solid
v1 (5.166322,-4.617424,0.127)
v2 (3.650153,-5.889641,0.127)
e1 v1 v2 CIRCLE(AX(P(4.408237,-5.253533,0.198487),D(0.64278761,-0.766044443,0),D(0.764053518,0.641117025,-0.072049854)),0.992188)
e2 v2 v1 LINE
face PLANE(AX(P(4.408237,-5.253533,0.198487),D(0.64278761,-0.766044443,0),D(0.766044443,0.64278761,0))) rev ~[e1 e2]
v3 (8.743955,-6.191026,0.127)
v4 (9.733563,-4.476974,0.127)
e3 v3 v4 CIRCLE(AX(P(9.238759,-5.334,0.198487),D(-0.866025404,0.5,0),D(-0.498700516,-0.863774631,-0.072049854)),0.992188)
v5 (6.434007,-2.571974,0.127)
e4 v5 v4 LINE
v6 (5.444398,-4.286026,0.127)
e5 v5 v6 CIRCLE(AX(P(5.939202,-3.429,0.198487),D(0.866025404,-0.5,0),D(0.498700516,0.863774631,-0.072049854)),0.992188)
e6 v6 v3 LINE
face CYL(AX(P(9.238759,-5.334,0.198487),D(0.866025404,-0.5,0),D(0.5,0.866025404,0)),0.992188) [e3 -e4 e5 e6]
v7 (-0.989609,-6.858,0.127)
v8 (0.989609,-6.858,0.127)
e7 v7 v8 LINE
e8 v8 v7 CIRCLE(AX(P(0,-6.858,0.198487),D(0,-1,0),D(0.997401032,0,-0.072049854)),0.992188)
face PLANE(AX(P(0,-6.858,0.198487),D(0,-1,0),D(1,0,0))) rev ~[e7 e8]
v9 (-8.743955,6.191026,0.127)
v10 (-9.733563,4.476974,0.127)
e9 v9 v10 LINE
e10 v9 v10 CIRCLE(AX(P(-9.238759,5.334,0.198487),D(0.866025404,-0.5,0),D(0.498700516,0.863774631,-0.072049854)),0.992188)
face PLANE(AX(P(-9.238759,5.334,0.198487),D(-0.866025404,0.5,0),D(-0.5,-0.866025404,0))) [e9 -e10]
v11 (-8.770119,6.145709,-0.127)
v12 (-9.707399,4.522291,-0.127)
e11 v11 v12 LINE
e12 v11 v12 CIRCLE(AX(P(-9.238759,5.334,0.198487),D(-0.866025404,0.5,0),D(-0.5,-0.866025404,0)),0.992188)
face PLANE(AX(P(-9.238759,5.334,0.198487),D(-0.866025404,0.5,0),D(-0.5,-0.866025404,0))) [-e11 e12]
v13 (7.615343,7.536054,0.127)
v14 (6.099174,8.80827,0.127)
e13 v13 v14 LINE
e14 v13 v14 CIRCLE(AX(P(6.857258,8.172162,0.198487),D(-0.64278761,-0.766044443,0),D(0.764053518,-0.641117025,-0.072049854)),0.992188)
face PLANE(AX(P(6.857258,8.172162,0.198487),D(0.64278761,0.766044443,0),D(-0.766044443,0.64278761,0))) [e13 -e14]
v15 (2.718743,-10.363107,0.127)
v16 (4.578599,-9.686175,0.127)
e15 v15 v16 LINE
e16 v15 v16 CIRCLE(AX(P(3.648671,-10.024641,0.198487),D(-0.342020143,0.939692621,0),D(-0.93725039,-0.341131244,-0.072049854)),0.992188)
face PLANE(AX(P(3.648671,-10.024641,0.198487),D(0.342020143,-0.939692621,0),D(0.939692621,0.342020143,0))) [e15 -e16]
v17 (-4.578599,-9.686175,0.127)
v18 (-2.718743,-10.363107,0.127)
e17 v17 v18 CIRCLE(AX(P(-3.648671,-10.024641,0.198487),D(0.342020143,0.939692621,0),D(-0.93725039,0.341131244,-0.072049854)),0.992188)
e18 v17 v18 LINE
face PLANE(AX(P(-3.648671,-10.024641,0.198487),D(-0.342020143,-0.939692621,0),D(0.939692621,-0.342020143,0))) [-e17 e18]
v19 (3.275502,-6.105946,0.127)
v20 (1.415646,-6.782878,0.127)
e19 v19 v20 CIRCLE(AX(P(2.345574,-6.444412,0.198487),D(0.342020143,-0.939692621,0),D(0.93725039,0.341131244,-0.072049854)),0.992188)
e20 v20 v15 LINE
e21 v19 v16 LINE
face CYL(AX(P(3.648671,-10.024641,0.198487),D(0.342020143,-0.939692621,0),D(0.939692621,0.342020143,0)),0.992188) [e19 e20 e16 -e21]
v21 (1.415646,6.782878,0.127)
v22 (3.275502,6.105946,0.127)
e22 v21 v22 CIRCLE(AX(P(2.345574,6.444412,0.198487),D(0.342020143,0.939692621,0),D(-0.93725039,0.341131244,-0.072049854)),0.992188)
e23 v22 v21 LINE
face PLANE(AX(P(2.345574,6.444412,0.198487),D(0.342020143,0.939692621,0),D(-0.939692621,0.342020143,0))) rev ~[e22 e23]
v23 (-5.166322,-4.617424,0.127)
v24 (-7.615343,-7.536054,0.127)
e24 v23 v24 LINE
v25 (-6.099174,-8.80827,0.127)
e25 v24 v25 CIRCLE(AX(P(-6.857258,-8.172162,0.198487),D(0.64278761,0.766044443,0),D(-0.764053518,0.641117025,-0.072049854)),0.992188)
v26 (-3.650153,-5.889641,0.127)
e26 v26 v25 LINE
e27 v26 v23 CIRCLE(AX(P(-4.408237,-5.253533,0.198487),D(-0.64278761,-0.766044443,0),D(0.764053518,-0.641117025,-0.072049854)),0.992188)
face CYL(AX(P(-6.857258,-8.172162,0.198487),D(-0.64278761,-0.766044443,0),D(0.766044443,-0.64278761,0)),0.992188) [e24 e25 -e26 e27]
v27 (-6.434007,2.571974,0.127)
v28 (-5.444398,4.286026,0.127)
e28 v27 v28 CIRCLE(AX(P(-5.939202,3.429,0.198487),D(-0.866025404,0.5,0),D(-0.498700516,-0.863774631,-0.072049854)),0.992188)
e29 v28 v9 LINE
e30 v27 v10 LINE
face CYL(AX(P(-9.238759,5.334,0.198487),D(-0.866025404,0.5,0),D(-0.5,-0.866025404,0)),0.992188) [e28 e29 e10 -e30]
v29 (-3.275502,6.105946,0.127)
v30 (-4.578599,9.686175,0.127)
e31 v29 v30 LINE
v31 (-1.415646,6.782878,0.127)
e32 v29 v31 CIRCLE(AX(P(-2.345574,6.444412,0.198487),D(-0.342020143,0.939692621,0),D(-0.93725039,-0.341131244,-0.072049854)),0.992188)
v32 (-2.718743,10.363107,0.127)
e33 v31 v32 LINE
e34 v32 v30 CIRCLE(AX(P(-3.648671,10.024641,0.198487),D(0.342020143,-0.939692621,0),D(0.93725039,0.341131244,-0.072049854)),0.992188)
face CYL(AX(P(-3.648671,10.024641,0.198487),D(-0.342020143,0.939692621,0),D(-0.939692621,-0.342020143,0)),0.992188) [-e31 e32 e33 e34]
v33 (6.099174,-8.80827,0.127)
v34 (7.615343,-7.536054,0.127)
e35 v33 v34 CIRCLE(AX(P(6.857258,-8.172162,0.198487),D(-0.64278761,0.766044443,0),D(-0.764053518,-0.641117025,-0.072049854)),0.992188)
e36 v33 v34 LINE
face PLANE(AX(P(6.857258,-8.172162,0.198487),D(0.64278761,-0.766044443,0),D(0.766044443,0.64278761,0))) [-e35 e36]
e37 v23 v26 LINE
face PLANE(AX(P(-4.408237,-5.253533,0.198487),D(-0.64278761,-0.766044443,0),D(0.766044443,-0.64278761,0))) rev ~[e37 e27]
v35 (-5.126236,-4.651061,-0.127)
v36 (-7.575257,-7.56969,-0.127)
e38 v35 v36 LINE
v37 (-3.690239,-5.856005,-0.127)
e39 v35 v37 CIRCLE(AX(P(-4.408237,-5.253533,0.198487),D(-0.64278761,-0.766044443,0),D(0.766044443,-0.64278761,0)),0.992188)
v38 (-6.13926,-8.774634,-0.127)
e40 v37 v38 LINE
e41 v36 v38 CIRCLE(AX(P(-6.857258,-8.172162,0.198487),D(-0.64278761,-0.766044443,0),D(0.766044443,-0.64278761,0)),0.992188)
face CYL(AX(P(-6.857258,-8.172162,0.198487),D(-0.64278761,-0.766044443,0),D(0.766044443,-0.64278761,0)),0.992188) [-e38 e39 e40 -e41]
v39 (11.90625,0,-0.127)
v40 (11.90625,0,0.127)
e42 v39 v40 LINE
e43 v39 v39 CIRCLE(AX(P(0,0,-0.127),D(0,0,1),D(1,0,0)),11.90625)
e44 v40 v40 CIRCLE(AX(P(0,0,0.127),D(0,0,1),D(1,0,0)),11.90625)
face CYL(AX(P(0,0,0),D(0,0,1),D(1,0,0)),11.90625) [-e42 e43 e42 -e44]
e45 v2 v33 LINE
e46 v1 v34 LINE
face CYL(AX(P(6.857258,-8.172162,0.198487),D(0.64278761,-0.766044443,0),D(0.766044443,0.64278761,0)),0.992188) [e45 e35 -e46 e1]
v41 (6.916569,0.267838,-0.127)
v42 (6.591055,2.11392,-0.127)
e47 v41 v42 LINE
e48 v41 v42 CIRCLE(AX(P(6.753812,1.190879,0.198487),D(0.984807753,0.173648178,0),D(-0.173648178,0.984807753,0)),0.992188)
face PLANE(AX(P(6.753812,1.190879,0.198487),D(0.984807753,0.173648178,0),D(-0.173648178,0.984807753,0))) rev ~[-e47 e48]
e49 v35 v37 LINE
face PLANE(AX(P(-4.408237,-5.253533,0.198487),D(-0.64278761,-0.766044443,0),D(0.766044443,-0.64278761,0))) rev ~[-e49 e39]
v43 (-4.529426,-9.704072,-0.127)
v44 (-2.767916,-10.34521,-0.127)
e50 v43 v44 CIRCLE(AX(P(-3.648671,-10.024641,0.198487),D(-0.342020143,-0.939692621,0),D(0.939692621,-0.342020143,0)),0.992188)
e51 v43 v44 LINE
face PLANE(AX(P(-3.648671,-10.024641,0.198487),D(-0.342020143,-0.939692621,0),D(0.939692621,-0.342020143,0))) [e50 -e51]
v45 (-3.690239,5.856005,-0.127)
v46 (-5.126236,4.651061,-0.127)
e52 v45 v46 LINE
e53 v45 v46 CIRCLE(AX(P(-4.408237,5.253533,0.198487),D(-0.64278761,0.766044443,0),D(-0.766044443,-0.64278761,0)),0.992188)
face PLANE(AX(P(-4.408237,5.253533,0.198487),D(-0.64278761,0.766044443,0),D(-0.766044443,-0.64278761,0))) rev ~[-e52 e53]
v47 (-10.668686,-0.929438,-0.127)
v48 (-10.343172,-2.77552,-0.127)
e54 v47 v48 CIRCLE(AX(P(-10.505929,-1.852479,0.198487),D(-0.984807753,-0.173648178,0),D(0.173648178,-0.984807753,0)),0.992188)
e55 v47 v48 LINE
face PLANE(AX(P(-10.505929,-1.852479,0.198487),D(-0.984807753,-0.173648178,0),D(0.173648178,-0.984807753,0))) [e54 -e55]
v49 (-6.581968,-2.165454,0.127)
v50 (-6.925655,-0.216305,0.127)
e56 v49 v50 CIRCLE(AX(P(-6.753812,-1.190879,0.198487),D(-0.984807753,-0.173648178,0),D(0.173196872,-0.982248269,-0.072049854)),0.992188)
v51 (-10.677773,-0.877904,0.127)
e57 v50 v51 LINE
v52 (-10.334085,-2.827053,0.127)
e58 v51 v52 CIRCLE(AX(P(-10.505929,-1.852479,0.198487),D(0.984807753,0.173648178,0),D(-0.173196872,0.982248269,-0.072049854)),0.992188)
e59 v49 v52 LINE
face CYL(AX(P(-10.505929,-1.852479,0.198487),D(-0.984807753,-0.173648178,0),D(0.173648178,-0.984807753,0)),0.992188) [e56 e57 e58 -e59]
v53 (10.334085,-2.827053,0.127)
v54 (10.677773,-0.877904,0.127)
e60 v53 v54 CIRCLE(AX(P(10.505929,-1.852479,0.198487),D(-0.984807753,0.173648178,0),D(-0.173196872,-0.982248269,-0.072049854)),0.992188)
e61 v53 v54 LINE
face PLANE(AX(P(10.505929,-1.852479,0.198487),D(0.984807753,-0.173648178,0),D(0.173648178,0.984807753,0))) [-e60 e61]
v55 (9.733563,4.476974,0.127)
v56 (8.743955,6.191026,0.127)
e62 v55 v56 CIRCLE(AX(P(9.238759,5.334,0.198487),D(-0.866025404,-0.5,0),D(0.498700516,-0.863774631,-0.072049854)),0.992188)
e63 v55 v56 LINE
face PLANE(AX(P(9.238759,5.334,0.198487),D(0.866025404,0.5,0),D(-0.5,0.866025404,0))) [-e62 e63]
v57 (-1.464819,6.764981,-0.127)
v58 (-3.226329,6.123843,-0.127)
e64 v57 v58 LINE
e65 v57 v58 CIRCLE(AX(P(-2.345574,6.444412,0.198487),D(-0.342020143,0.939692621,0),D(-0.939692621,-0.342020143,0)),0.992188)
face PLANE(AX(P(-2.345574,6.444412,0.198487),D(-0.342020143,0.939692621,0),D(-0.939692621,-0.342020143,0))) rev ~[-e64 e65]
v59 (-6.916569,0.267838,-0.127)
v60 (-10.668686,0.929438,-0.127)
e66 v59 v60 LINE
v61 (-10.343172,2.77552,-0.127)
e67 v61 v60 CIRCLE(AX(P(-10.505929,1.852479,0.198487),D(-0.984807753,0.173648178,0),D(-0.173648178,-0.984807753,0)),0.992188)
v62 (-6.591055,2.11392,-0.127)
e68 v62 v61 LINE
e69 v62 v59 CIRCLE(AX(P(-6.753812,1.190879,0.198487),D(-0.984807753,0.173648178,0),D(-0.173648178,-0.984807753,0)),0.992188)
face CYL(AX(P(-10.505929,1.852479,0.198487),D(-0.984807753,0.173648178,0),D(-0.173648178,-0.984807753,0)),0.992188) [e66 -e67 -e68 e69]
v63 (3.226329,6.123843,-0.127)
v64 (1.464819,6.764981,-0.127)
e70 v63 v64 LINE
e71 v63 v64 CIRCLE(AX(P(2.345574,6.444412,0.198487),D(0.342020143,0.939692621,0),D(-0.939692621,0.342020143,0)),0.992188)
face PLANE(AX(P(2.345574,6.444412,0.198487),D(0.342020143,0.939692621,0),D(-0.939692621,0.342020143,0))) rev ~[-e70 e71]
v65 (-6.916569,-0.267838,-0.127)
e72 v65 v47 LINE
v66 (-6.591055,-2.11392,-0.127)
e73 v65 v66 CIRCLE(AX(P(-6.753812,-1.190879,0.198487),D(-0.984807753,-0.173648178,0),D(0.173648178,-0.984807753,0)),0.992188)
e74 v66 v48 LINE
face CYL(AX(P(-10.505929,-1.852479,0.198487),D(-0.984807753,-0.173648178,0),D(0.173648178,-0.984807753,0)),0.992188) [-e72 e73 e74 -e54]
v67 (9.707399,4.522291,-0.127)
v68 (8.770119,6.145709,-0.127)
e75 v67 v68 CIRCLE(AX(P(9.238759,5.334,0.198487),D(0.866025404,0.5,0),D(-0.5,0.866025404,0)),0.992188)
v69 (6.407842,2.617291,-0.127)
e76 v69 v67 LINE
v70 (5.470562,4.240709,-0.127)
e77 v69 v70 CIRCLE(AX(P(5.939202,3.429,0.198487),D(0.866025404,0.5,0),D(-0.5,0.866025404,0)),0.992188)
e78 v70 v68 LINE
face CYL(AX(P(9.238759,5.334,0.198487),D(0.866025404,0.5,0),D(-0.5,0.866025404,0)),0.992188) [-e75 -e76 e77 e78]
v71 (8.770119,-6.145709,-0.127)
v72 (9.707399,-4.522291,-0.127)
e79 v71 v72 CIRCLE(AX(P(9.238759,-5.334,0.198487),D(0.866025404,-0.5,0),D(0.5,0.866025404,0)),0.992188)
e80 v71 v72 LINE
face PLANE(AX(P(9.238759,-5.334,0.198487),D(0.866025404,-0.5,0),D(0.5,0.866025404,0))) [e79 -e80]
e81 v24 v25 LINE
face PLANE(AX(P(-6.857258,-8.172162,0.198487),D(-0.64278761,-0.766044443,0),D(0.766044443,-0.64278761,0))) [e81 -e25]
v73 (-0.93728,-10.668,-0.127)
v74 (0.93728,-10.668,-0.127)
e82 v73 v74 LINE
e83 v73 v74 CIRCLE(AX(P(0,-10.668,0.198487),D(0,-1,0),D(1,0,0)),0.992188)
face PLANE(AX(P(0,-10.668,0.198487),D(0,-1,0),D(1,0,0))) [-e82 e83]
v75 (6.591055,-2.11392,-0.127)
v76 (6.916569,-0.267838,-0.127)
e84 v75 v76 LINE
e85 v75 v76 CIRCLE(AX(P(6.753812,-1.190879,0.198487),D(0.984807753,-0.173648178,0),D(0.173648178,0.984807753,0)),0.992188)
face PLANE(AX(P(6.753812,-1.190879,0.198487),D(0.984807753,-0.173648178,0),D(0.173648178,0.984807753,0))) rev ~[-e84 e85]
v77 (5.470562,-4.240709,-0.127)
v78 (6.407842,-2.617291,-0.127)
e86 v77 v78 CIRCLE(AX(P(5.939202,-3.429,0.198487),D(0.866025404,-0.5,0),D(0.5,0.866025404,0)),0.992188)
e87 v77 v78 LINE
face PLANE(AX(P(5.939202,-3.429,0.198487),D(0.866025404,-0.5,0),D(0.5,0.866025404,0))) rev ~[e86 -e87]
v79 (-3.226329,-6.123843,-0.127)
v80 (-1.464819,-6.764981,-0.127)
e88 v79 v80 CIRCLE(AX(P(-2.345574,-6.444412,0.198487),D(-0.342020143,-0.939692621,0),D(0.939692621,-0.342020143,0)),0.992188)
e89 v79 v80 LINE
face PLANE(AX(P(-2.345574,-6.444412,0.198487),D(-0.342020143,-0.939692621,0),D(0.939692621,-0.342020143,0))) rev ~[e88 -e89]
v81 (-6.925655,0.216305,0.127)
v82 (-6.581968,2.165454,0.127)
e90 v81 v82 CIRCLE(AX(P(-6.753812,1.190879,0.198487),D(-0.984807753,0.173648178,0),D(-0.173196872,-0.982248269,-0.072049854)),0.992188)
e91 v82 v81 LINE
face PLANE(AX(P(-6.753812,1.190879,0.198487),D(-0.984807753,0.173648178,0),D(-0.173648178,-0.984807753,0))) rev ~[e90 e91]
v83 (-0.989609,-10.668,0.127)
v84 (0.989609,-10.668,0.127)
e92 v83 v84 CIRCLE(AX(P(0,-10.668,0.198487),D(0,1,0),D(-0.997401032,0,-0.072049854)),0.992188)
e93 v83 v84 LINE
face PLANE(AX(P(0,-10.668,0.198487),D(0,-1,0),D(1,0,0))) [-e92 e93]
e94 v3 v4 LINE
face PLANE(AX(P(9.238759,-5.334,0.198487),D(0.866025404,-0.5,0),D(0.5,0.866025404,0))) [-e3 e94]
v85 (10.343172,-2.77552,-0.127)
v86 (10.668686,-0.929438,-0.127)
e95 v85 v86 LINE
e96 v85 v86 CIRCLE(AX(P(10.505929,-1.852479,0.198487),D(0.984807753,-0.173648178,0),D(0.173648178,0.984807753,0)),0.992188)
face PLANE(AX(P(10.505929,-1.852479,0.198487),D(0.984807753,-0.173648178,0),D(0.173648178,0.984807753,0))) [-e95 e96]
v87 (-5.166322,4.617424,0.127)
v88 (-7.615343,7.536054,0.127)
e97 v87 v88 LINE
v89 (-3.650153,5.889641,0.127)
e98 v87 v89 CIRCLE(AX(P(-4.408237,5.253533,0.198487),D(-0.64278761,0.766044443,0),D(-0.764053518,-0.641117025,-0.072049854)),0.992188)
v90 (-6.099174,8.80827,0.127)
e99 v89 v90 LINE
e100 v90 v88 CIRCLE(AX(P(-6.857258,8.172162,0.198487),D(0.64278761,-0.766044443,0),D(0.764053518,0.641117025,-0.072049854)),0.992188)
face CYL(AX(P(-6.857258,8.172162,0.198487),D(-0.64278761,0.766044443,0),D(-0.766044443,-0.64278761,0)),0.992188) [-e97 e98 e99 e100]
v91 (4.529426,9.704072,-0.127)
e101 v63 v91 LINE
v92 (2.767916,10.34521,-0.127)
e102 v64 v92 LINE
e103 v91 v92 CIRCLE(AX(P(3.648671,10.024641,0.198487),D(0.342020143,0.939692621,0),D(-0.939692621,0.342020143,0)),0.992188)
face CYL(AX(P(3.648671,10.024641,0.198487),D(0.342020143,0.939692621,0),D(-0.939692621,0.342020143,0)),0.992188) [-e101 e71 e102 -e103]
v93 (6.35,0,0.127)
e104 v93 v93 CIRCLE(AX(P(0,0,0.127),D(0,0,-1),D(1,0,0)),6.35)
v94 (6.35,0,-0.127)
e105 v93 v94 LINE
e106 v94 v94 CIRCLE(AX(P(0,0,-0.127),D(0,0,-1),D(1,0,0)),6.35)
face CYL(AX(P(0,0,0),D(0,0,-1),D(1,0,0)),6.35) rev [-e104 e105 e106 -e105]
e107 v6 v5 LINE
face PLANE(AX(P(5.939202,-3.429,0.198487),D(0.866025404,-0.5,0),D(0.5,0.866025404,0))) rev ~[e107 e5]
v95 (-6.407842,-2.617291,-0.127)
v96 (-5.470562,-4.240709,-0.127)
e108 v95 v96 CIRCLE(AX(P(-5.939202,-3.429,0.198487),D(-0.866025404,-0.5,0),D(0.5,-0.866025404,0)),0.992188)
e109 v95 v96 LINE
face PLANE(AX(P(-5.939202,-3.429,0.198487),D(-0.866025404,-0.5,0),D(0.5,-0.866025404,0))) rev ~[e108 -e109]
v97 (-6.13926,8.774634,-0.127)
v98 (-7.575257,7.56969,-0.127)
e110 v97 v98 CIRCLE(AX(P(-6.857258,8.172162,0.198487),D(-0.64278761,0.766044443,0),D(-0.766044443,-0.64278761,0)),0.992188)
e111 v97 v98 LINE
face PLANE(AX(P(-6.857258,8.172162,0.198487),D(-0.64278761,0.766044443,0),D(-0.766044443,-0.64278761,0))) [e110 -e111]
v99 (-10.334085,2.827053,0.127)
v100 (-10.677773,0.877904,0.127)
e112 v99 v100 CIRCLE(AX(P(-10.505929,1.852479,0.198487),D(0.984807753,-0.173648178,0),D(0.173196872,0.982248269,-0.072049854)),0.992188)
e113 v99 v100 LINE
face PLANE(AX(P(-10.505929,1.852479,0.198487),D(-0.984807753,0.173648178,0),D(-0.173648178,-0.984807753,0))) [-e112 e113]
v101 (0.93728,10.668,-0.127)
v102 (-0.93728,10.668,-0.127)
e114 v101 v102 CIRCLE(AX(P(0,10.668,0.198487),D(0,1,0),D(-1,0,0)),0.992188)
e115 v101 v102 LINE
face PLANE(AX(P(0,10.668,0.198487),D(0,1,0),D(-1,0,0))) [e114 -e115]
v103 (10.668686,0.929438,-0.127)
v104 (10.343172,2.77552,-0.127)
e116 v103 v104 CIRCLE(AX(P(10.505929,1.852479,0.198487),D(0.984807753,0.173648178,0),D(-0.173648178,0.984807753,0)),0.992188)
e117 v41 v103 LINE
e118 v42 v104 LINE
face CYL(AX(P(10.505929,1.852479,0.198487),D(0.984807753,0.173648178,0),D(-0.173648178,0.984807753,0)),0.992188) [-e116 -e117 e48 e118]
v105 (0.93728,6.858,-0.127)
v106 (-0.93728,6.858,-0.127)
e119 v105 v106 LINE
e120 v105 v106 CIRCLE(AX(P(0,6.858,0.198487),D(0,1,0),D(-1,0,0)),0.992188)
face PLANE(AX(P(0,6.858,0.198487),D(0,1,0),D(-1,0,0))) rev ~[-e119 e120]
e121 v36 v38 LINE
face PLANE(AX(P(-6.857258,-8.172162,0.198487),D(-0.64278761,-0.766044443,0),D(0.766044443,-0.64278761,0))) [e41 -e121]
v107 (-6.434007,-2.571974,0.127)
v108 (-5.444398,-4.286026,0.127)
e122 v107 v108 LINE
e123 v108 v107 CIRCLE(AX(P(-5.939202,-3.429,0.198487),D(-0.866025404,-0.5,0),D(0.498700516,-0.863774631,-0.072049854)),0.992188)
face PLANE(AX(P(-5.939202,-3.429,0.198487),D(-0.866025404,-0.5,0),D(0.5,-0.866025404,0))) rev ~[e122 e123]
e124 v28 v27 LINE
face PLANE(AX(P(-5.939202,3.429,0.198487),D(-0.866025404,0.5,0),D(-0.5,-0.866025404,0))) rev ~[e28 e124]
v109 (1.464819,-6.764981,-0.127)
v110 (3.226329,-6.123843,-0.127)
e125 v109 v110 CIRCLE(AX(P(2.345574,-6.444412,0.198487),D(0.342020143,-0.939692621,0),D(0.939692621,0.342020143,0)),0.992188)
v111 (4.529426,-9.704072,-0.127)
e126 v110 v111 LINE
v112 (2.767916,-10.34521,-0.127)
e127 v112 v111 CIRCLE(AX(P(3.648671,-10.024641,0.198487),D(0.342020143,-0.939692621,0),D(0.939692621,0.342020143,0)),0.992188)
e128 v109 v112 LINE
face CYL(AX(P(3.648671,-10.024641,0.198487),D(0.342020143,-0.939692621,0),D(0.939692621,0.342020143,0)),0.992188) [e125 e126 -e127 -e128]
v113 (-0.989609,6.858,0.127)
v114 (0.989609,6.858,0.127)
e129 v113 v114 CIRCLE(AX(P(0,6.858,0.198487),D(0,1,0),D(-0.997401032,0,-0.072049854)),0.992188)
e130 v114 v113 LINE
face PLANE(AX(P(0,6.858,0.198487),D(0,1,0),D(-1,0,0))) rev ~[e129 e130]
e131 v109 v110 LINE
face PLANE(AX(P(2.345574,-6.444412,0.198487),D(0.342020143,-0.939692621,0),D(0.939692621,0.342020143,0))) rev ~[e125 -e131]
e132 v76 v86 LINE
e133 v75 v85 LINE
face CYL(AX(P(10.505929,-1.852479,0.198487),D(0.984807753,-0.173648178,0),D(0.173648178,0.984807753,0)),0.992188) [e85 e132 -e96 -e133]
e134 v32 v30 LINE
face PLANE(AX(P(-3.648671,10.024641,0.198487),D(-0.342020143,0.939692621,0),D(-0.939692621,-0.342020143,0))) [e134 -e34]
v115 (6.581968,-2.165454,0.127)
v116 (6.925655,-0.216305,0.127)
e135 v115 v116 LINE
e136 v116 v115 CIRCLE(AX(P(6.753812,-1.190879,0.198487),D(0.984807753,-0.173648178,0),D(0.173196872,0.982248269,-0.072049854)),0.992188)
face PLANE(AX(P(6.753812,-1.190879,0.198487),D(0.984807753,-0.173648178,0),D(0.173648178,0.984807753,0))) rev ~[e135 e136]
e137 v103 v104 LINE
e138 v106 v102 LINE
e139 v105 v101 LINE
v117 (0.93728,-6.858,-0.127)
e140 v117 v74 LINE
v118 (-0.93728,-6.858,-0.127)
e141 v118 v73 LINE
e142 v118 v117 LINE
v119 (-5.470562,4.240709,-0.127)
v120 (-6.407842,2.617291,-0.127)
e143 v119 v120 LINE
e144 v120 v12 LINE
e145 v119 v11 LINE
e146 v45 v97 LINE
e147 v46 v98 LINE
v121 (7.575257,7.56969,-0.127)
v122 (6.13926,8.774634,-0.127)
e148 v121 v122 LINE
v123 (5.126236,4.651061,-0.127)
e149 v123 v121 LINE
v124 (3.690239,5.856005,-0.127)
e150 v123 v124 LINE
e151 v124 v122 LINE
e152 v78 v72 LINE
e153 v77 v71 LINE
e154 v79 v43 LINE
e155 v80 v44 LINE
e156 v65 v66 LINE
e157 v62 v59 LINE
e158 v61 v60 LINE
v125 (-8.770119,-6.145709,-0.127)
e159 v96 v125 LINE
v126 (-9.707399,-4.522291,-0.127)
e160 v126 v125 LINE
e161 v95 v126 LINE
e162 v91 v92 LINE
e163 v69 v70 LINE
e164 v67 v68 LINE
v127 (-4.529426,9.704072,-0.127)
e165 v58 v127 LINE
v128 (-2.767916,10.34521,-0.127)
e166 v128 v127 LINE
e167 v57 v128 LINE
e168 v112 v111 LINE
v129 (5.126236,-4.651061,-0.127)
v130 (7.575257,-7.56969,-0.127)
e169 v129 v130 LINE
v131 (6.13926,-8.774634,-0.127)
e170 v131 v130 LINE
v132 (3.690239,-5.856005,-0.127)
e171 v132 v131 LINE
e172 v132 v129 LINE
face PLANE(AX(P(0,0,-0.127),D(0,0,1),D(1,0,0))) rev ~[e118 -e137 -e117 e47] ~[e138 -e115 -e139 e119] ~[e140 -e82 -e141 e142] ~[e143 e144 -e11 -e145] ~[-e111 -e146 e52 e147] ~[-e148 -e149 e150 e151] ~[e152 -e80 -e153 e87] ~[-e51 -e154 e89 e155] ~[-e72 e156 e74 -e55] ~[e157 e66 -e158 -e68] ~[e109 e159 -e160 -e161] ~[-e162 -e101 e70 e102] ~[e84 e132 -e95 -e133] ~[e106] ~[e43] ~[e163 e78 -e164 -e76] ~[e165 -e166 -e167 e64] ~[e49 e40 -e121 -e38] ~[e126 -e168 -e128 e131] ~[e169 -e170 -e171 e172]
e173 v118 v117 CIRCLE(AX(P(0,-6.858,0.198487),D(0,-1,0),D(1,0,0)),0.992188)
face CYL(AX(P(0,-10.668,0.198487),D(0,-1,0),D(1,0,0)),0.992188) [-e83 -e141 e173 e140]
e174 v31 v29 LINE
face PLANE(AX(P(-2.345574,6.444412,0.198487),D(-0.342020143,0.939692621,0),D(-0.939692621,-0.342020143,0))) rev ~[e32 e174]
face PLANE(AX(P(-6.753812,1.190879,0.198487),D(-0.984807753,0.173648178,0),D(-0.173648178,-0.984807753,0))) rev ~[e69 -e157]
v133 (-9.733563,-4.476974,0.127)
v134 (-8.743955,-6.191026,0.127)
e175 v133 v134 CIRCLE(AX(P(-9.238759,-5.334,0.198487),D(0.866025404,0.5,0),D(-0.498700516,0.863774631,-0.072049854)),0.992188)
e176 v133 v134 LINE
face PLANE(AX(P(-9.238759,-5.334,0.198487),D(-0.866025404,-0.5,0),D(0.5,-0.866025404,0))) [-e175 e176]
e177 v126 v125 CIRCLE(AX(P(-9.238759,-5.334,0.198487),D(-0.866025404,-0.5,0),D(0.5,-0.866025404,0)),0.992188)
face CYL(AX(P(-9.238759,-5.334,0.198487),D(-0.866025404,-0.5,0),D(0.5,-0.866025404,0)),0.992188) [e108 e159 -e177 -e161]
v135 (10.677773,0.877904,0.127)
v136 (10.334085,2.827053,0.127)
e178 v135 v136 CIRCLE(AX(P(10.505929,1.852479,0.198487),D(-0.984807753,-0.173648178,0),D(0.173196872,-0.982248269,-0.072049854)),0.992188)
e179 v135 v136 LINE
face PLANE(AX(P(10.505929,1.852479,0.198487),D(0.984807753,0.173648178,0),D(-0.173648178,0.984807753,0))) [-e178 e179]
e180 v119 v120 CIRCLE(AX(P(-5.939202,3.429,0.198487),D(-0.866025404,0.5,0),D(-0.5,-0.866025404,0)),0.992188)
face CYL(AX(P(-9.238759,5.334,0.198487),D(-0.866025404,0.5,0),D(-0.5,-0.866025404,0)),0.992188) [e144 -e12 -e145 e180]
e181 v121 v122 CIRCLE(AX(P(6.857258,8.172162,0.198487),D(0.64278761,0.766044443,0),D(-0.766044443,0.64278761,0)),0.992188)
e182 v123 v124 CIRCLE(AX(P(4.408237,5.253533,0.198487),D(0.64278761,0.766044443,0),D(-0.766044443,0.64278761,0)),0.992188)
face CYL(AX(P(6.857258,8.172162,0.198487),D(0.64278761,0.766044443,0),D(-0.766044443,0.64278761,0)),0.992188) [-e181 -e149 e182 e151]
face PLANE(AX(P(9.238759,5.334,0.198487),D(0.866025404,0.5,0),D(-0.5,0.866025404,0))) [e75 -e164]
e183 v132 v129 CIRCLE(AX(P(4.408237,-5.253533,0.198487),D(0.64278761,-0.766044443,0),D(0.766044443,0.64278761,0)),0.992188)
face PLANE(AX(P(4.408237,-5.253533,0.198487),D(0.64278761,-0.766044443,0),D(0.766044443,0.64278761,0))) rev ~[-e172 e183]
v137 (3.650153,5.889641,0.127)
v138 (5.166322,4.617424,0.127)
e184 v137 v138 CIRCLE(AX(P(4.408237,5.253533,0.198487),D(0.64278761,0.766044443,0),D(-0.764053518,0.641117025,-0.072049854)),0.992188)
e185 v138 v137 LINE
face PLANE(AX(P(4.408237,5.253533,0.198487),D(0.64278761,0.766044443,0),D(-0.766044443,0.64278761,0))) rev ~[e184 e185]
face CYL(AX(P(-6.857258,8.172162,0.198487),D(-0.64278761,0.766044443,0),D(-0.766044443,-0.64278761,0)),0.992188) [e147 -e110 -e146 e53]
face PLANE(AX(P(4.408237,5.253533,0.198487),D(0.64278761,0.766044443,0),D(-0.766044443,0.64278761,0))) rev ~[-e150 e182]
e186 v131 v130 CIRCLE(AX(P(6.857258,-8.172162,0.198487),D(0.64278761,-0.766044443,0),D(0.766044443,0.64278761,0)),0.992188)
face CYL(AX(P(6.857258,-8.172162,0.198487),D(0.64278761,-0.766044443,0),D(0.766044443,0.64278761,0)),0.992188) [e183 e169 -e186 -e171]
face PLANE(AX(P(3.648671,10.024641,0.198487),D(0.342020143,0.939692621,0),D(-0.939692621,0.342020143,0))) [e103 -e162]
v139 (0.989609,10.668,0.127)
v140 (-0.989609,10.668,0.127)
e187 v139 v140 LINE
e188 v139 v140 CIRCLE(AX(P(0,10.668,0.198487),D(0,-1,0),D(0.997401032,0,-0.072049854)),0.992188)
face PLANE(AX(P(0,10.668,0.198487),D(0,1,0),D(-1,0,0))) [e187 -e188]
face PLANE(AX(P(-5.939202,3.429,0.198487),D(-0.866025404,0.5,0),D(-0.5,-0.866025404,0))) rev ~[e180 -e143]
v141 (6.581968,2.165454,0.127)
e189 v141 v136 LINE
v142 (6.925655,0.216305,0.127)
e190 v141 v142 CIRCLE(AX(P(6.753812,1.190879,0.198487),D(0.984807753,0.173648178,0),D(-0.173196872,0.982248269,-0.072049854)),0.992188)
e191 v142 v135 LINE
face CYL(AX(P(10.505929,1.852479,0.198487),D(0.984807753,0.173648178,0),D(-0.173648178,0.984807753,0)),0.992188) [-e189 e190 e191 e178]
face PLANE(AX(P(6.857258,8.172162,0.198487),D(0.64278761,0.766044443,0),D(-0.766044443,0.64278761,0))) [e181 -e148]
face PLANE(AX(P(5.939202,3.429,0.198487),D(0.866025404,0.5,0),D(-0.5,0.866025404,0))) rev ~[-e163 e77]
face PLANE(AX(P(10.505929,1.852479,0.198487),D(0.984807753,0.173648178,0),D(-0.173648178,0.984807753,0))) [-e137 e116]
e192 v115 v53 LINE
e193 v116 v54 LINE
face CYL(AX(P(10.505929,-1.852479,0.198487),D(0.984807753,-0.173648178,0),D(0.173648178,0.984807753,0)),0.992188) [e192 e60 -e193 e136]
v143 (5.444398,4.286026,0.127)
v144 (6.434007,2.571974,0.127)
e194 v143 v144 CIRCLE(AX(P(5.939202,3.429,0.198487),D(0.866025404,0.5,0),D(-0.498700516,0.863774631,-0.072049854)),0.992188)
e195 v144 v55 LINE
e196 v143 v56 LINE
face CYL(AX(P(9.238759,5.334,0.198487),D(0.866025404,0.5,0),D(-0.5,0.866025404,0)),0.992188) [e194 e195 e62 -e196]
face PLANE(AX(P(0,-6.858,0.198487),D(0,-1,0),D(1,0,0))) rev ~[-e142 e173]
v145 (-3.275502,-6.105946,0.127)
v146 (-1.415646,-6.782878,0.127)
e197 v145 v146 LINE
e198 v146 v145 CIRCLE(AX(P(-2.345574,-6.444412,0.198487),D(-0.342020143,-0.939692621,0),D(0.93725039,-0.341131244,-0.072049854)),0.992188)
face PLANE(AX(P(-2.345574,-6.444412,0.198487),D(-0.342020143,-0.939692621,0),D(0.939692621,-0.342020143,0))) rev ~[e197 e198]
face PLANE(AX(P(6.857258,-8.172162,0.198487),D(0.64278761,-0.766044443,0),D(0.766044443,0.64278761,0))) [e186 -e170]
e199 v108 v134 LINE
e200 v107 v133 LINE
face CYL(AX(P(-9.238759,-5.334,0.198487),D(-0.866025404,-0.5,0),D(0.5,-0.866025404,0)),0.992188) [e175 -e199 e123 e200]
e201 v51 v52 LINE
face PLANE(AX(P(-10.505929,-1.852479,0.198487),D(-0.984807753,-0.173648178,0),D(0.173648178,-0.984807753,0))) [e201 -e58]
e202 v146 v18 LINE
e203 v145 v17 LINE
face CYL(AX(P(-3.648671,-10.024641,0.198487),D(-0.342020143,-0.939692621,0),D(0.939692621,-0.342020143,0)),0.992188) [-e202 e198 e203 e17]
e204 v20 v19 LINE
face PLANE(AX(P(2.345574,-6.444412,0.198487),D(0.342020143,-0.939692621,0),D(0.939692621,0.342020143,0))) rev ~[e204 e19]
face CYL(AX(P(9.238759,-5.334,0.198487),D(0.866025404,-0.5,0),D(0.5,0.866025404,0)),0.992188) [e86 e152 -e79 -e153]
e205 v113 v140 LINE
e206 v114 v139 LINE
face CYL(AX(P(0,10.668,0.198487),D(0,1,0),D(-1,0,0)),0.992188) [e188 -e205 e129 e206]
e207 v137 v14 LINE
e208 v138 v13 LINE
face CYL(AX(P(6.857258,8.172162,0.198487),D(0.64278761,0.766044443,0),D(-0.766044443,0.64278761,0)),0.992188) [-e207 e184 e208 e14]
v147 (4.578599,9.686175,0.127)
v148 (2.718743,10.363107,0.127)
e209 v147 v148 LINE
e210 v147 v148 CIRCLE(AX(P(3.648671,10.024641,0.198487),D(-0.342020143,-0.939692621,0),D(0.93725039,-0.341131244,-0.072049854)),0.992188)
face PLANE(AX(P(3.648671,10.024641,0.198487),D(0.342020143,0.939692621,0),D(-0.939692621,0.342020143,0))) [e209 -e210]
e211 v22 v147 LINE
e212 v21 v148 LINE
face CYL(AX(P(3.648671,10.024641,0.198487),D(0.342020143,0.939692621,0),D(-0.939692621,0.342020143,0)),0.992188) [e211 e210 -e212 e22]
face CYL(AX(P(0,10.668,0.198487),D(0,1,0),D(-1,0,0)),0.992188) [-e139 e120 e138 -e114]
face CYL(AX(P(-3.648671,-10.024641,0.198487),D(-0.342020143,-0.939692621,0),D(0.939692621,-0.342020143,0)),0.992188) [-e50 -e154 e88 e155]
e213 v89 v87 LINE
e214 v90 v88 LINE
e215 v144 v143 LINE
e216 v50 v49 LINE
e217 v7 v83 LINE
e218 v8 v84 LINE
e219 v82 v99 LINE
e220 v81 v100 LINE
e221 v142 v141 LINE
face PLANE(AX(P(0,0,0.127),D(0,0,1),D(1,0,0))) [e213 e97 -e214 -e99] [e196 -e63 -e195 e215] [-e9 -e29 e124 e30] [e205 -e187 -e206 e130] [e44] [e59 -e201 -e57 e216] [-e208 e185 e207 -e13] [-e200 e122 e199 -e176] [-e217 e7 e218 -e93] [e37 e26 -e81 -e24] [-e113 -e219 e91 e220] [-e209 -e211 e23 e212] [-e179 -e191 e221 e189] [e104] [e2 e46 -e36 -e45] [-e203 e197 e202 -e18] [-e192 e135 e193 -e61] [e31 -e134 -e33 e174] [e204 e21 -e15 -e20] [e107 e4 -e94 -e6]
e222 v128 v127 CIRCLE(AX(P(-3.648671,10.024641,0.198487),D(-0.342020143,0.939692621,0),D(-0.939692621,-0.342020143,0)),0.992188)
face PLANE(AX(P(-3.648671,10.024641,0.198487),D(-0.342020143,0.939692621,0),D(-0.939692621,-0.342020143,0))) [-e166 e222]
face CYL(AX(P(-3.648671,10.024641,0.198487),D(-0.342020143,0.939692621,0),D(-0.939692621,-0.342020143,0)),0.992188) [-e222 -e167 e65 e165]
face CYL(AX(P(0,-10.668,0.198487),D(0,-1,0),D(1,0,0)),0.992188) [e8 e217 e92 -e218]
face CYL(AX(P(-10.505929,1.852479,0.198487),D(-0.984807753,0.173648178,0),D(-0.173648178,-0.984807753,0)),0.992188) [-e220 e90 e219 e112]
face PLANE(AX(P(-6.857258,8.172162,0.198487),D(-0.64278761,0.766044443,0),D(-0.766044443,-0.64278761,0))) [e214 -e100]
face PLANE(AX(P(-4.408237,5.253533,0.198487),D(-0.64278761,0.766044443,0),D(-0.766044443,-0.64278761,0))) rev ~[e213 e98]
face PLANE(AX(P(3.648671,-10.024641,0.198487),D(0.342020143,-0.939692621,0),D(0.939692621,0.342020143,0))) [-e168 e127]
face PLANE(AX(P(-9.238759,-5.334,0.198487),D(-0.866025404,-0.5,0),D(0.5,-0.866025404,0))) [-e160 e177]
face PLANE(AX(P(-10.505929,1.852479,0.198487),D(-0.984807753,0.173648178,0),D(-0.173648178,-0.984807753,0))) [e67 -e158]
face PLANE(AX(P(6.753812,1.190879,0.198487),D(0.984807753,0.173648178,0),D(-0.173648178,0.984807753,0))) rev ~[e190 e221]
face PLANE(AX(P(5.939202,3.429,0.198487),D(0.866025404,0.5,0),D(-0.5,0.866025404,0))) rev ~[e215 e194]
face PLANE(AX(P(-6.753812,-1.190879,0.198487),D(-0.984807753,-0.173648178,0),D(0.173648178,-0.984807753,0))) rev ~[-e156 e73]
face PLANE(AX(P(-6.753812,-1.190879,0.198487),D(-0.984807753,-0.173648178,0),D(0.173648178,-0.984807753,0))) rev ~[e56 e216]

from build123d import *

# Parameters (mm, degrees)
F0_R     = 11.90625
F0_R_2   = 6.35
F1_DEPTH = 0.127
F3_R     = 0.9921875
F4_DEPTH = 3.81
F5_COUNT = 18


with BuildPart() as f1:
    # F0 (on Top) → F1 (new body, symmetric)
    with BuildSketch(Plane.XY):
        Circle(F0_R)
        Circle(F0_R_2, mode=Mode.SUBTRACT)
    extrude(amount=F1_DEPTH, both=True)

    # F3 (on offset) → F4 (join)
    with BuildSketch(Plane.XZ.offset(10.668)):
        with Locations((0, 0.1984869643)):
            Circle(F3_R)
    extrude(amount=-F4_DEPTH)

    # F5: F1 ×18 about axis
    f5_axis = Axis((0, 0, 0), (0, 0, -1))


with BuildPart() as f1_1:
    add(f1.part)
    for i in range(1, F5_COUNT):
        add(f1.part.rotate(f5_axis, i * 360 / F5_COUNT))


solid = f1_1.part
